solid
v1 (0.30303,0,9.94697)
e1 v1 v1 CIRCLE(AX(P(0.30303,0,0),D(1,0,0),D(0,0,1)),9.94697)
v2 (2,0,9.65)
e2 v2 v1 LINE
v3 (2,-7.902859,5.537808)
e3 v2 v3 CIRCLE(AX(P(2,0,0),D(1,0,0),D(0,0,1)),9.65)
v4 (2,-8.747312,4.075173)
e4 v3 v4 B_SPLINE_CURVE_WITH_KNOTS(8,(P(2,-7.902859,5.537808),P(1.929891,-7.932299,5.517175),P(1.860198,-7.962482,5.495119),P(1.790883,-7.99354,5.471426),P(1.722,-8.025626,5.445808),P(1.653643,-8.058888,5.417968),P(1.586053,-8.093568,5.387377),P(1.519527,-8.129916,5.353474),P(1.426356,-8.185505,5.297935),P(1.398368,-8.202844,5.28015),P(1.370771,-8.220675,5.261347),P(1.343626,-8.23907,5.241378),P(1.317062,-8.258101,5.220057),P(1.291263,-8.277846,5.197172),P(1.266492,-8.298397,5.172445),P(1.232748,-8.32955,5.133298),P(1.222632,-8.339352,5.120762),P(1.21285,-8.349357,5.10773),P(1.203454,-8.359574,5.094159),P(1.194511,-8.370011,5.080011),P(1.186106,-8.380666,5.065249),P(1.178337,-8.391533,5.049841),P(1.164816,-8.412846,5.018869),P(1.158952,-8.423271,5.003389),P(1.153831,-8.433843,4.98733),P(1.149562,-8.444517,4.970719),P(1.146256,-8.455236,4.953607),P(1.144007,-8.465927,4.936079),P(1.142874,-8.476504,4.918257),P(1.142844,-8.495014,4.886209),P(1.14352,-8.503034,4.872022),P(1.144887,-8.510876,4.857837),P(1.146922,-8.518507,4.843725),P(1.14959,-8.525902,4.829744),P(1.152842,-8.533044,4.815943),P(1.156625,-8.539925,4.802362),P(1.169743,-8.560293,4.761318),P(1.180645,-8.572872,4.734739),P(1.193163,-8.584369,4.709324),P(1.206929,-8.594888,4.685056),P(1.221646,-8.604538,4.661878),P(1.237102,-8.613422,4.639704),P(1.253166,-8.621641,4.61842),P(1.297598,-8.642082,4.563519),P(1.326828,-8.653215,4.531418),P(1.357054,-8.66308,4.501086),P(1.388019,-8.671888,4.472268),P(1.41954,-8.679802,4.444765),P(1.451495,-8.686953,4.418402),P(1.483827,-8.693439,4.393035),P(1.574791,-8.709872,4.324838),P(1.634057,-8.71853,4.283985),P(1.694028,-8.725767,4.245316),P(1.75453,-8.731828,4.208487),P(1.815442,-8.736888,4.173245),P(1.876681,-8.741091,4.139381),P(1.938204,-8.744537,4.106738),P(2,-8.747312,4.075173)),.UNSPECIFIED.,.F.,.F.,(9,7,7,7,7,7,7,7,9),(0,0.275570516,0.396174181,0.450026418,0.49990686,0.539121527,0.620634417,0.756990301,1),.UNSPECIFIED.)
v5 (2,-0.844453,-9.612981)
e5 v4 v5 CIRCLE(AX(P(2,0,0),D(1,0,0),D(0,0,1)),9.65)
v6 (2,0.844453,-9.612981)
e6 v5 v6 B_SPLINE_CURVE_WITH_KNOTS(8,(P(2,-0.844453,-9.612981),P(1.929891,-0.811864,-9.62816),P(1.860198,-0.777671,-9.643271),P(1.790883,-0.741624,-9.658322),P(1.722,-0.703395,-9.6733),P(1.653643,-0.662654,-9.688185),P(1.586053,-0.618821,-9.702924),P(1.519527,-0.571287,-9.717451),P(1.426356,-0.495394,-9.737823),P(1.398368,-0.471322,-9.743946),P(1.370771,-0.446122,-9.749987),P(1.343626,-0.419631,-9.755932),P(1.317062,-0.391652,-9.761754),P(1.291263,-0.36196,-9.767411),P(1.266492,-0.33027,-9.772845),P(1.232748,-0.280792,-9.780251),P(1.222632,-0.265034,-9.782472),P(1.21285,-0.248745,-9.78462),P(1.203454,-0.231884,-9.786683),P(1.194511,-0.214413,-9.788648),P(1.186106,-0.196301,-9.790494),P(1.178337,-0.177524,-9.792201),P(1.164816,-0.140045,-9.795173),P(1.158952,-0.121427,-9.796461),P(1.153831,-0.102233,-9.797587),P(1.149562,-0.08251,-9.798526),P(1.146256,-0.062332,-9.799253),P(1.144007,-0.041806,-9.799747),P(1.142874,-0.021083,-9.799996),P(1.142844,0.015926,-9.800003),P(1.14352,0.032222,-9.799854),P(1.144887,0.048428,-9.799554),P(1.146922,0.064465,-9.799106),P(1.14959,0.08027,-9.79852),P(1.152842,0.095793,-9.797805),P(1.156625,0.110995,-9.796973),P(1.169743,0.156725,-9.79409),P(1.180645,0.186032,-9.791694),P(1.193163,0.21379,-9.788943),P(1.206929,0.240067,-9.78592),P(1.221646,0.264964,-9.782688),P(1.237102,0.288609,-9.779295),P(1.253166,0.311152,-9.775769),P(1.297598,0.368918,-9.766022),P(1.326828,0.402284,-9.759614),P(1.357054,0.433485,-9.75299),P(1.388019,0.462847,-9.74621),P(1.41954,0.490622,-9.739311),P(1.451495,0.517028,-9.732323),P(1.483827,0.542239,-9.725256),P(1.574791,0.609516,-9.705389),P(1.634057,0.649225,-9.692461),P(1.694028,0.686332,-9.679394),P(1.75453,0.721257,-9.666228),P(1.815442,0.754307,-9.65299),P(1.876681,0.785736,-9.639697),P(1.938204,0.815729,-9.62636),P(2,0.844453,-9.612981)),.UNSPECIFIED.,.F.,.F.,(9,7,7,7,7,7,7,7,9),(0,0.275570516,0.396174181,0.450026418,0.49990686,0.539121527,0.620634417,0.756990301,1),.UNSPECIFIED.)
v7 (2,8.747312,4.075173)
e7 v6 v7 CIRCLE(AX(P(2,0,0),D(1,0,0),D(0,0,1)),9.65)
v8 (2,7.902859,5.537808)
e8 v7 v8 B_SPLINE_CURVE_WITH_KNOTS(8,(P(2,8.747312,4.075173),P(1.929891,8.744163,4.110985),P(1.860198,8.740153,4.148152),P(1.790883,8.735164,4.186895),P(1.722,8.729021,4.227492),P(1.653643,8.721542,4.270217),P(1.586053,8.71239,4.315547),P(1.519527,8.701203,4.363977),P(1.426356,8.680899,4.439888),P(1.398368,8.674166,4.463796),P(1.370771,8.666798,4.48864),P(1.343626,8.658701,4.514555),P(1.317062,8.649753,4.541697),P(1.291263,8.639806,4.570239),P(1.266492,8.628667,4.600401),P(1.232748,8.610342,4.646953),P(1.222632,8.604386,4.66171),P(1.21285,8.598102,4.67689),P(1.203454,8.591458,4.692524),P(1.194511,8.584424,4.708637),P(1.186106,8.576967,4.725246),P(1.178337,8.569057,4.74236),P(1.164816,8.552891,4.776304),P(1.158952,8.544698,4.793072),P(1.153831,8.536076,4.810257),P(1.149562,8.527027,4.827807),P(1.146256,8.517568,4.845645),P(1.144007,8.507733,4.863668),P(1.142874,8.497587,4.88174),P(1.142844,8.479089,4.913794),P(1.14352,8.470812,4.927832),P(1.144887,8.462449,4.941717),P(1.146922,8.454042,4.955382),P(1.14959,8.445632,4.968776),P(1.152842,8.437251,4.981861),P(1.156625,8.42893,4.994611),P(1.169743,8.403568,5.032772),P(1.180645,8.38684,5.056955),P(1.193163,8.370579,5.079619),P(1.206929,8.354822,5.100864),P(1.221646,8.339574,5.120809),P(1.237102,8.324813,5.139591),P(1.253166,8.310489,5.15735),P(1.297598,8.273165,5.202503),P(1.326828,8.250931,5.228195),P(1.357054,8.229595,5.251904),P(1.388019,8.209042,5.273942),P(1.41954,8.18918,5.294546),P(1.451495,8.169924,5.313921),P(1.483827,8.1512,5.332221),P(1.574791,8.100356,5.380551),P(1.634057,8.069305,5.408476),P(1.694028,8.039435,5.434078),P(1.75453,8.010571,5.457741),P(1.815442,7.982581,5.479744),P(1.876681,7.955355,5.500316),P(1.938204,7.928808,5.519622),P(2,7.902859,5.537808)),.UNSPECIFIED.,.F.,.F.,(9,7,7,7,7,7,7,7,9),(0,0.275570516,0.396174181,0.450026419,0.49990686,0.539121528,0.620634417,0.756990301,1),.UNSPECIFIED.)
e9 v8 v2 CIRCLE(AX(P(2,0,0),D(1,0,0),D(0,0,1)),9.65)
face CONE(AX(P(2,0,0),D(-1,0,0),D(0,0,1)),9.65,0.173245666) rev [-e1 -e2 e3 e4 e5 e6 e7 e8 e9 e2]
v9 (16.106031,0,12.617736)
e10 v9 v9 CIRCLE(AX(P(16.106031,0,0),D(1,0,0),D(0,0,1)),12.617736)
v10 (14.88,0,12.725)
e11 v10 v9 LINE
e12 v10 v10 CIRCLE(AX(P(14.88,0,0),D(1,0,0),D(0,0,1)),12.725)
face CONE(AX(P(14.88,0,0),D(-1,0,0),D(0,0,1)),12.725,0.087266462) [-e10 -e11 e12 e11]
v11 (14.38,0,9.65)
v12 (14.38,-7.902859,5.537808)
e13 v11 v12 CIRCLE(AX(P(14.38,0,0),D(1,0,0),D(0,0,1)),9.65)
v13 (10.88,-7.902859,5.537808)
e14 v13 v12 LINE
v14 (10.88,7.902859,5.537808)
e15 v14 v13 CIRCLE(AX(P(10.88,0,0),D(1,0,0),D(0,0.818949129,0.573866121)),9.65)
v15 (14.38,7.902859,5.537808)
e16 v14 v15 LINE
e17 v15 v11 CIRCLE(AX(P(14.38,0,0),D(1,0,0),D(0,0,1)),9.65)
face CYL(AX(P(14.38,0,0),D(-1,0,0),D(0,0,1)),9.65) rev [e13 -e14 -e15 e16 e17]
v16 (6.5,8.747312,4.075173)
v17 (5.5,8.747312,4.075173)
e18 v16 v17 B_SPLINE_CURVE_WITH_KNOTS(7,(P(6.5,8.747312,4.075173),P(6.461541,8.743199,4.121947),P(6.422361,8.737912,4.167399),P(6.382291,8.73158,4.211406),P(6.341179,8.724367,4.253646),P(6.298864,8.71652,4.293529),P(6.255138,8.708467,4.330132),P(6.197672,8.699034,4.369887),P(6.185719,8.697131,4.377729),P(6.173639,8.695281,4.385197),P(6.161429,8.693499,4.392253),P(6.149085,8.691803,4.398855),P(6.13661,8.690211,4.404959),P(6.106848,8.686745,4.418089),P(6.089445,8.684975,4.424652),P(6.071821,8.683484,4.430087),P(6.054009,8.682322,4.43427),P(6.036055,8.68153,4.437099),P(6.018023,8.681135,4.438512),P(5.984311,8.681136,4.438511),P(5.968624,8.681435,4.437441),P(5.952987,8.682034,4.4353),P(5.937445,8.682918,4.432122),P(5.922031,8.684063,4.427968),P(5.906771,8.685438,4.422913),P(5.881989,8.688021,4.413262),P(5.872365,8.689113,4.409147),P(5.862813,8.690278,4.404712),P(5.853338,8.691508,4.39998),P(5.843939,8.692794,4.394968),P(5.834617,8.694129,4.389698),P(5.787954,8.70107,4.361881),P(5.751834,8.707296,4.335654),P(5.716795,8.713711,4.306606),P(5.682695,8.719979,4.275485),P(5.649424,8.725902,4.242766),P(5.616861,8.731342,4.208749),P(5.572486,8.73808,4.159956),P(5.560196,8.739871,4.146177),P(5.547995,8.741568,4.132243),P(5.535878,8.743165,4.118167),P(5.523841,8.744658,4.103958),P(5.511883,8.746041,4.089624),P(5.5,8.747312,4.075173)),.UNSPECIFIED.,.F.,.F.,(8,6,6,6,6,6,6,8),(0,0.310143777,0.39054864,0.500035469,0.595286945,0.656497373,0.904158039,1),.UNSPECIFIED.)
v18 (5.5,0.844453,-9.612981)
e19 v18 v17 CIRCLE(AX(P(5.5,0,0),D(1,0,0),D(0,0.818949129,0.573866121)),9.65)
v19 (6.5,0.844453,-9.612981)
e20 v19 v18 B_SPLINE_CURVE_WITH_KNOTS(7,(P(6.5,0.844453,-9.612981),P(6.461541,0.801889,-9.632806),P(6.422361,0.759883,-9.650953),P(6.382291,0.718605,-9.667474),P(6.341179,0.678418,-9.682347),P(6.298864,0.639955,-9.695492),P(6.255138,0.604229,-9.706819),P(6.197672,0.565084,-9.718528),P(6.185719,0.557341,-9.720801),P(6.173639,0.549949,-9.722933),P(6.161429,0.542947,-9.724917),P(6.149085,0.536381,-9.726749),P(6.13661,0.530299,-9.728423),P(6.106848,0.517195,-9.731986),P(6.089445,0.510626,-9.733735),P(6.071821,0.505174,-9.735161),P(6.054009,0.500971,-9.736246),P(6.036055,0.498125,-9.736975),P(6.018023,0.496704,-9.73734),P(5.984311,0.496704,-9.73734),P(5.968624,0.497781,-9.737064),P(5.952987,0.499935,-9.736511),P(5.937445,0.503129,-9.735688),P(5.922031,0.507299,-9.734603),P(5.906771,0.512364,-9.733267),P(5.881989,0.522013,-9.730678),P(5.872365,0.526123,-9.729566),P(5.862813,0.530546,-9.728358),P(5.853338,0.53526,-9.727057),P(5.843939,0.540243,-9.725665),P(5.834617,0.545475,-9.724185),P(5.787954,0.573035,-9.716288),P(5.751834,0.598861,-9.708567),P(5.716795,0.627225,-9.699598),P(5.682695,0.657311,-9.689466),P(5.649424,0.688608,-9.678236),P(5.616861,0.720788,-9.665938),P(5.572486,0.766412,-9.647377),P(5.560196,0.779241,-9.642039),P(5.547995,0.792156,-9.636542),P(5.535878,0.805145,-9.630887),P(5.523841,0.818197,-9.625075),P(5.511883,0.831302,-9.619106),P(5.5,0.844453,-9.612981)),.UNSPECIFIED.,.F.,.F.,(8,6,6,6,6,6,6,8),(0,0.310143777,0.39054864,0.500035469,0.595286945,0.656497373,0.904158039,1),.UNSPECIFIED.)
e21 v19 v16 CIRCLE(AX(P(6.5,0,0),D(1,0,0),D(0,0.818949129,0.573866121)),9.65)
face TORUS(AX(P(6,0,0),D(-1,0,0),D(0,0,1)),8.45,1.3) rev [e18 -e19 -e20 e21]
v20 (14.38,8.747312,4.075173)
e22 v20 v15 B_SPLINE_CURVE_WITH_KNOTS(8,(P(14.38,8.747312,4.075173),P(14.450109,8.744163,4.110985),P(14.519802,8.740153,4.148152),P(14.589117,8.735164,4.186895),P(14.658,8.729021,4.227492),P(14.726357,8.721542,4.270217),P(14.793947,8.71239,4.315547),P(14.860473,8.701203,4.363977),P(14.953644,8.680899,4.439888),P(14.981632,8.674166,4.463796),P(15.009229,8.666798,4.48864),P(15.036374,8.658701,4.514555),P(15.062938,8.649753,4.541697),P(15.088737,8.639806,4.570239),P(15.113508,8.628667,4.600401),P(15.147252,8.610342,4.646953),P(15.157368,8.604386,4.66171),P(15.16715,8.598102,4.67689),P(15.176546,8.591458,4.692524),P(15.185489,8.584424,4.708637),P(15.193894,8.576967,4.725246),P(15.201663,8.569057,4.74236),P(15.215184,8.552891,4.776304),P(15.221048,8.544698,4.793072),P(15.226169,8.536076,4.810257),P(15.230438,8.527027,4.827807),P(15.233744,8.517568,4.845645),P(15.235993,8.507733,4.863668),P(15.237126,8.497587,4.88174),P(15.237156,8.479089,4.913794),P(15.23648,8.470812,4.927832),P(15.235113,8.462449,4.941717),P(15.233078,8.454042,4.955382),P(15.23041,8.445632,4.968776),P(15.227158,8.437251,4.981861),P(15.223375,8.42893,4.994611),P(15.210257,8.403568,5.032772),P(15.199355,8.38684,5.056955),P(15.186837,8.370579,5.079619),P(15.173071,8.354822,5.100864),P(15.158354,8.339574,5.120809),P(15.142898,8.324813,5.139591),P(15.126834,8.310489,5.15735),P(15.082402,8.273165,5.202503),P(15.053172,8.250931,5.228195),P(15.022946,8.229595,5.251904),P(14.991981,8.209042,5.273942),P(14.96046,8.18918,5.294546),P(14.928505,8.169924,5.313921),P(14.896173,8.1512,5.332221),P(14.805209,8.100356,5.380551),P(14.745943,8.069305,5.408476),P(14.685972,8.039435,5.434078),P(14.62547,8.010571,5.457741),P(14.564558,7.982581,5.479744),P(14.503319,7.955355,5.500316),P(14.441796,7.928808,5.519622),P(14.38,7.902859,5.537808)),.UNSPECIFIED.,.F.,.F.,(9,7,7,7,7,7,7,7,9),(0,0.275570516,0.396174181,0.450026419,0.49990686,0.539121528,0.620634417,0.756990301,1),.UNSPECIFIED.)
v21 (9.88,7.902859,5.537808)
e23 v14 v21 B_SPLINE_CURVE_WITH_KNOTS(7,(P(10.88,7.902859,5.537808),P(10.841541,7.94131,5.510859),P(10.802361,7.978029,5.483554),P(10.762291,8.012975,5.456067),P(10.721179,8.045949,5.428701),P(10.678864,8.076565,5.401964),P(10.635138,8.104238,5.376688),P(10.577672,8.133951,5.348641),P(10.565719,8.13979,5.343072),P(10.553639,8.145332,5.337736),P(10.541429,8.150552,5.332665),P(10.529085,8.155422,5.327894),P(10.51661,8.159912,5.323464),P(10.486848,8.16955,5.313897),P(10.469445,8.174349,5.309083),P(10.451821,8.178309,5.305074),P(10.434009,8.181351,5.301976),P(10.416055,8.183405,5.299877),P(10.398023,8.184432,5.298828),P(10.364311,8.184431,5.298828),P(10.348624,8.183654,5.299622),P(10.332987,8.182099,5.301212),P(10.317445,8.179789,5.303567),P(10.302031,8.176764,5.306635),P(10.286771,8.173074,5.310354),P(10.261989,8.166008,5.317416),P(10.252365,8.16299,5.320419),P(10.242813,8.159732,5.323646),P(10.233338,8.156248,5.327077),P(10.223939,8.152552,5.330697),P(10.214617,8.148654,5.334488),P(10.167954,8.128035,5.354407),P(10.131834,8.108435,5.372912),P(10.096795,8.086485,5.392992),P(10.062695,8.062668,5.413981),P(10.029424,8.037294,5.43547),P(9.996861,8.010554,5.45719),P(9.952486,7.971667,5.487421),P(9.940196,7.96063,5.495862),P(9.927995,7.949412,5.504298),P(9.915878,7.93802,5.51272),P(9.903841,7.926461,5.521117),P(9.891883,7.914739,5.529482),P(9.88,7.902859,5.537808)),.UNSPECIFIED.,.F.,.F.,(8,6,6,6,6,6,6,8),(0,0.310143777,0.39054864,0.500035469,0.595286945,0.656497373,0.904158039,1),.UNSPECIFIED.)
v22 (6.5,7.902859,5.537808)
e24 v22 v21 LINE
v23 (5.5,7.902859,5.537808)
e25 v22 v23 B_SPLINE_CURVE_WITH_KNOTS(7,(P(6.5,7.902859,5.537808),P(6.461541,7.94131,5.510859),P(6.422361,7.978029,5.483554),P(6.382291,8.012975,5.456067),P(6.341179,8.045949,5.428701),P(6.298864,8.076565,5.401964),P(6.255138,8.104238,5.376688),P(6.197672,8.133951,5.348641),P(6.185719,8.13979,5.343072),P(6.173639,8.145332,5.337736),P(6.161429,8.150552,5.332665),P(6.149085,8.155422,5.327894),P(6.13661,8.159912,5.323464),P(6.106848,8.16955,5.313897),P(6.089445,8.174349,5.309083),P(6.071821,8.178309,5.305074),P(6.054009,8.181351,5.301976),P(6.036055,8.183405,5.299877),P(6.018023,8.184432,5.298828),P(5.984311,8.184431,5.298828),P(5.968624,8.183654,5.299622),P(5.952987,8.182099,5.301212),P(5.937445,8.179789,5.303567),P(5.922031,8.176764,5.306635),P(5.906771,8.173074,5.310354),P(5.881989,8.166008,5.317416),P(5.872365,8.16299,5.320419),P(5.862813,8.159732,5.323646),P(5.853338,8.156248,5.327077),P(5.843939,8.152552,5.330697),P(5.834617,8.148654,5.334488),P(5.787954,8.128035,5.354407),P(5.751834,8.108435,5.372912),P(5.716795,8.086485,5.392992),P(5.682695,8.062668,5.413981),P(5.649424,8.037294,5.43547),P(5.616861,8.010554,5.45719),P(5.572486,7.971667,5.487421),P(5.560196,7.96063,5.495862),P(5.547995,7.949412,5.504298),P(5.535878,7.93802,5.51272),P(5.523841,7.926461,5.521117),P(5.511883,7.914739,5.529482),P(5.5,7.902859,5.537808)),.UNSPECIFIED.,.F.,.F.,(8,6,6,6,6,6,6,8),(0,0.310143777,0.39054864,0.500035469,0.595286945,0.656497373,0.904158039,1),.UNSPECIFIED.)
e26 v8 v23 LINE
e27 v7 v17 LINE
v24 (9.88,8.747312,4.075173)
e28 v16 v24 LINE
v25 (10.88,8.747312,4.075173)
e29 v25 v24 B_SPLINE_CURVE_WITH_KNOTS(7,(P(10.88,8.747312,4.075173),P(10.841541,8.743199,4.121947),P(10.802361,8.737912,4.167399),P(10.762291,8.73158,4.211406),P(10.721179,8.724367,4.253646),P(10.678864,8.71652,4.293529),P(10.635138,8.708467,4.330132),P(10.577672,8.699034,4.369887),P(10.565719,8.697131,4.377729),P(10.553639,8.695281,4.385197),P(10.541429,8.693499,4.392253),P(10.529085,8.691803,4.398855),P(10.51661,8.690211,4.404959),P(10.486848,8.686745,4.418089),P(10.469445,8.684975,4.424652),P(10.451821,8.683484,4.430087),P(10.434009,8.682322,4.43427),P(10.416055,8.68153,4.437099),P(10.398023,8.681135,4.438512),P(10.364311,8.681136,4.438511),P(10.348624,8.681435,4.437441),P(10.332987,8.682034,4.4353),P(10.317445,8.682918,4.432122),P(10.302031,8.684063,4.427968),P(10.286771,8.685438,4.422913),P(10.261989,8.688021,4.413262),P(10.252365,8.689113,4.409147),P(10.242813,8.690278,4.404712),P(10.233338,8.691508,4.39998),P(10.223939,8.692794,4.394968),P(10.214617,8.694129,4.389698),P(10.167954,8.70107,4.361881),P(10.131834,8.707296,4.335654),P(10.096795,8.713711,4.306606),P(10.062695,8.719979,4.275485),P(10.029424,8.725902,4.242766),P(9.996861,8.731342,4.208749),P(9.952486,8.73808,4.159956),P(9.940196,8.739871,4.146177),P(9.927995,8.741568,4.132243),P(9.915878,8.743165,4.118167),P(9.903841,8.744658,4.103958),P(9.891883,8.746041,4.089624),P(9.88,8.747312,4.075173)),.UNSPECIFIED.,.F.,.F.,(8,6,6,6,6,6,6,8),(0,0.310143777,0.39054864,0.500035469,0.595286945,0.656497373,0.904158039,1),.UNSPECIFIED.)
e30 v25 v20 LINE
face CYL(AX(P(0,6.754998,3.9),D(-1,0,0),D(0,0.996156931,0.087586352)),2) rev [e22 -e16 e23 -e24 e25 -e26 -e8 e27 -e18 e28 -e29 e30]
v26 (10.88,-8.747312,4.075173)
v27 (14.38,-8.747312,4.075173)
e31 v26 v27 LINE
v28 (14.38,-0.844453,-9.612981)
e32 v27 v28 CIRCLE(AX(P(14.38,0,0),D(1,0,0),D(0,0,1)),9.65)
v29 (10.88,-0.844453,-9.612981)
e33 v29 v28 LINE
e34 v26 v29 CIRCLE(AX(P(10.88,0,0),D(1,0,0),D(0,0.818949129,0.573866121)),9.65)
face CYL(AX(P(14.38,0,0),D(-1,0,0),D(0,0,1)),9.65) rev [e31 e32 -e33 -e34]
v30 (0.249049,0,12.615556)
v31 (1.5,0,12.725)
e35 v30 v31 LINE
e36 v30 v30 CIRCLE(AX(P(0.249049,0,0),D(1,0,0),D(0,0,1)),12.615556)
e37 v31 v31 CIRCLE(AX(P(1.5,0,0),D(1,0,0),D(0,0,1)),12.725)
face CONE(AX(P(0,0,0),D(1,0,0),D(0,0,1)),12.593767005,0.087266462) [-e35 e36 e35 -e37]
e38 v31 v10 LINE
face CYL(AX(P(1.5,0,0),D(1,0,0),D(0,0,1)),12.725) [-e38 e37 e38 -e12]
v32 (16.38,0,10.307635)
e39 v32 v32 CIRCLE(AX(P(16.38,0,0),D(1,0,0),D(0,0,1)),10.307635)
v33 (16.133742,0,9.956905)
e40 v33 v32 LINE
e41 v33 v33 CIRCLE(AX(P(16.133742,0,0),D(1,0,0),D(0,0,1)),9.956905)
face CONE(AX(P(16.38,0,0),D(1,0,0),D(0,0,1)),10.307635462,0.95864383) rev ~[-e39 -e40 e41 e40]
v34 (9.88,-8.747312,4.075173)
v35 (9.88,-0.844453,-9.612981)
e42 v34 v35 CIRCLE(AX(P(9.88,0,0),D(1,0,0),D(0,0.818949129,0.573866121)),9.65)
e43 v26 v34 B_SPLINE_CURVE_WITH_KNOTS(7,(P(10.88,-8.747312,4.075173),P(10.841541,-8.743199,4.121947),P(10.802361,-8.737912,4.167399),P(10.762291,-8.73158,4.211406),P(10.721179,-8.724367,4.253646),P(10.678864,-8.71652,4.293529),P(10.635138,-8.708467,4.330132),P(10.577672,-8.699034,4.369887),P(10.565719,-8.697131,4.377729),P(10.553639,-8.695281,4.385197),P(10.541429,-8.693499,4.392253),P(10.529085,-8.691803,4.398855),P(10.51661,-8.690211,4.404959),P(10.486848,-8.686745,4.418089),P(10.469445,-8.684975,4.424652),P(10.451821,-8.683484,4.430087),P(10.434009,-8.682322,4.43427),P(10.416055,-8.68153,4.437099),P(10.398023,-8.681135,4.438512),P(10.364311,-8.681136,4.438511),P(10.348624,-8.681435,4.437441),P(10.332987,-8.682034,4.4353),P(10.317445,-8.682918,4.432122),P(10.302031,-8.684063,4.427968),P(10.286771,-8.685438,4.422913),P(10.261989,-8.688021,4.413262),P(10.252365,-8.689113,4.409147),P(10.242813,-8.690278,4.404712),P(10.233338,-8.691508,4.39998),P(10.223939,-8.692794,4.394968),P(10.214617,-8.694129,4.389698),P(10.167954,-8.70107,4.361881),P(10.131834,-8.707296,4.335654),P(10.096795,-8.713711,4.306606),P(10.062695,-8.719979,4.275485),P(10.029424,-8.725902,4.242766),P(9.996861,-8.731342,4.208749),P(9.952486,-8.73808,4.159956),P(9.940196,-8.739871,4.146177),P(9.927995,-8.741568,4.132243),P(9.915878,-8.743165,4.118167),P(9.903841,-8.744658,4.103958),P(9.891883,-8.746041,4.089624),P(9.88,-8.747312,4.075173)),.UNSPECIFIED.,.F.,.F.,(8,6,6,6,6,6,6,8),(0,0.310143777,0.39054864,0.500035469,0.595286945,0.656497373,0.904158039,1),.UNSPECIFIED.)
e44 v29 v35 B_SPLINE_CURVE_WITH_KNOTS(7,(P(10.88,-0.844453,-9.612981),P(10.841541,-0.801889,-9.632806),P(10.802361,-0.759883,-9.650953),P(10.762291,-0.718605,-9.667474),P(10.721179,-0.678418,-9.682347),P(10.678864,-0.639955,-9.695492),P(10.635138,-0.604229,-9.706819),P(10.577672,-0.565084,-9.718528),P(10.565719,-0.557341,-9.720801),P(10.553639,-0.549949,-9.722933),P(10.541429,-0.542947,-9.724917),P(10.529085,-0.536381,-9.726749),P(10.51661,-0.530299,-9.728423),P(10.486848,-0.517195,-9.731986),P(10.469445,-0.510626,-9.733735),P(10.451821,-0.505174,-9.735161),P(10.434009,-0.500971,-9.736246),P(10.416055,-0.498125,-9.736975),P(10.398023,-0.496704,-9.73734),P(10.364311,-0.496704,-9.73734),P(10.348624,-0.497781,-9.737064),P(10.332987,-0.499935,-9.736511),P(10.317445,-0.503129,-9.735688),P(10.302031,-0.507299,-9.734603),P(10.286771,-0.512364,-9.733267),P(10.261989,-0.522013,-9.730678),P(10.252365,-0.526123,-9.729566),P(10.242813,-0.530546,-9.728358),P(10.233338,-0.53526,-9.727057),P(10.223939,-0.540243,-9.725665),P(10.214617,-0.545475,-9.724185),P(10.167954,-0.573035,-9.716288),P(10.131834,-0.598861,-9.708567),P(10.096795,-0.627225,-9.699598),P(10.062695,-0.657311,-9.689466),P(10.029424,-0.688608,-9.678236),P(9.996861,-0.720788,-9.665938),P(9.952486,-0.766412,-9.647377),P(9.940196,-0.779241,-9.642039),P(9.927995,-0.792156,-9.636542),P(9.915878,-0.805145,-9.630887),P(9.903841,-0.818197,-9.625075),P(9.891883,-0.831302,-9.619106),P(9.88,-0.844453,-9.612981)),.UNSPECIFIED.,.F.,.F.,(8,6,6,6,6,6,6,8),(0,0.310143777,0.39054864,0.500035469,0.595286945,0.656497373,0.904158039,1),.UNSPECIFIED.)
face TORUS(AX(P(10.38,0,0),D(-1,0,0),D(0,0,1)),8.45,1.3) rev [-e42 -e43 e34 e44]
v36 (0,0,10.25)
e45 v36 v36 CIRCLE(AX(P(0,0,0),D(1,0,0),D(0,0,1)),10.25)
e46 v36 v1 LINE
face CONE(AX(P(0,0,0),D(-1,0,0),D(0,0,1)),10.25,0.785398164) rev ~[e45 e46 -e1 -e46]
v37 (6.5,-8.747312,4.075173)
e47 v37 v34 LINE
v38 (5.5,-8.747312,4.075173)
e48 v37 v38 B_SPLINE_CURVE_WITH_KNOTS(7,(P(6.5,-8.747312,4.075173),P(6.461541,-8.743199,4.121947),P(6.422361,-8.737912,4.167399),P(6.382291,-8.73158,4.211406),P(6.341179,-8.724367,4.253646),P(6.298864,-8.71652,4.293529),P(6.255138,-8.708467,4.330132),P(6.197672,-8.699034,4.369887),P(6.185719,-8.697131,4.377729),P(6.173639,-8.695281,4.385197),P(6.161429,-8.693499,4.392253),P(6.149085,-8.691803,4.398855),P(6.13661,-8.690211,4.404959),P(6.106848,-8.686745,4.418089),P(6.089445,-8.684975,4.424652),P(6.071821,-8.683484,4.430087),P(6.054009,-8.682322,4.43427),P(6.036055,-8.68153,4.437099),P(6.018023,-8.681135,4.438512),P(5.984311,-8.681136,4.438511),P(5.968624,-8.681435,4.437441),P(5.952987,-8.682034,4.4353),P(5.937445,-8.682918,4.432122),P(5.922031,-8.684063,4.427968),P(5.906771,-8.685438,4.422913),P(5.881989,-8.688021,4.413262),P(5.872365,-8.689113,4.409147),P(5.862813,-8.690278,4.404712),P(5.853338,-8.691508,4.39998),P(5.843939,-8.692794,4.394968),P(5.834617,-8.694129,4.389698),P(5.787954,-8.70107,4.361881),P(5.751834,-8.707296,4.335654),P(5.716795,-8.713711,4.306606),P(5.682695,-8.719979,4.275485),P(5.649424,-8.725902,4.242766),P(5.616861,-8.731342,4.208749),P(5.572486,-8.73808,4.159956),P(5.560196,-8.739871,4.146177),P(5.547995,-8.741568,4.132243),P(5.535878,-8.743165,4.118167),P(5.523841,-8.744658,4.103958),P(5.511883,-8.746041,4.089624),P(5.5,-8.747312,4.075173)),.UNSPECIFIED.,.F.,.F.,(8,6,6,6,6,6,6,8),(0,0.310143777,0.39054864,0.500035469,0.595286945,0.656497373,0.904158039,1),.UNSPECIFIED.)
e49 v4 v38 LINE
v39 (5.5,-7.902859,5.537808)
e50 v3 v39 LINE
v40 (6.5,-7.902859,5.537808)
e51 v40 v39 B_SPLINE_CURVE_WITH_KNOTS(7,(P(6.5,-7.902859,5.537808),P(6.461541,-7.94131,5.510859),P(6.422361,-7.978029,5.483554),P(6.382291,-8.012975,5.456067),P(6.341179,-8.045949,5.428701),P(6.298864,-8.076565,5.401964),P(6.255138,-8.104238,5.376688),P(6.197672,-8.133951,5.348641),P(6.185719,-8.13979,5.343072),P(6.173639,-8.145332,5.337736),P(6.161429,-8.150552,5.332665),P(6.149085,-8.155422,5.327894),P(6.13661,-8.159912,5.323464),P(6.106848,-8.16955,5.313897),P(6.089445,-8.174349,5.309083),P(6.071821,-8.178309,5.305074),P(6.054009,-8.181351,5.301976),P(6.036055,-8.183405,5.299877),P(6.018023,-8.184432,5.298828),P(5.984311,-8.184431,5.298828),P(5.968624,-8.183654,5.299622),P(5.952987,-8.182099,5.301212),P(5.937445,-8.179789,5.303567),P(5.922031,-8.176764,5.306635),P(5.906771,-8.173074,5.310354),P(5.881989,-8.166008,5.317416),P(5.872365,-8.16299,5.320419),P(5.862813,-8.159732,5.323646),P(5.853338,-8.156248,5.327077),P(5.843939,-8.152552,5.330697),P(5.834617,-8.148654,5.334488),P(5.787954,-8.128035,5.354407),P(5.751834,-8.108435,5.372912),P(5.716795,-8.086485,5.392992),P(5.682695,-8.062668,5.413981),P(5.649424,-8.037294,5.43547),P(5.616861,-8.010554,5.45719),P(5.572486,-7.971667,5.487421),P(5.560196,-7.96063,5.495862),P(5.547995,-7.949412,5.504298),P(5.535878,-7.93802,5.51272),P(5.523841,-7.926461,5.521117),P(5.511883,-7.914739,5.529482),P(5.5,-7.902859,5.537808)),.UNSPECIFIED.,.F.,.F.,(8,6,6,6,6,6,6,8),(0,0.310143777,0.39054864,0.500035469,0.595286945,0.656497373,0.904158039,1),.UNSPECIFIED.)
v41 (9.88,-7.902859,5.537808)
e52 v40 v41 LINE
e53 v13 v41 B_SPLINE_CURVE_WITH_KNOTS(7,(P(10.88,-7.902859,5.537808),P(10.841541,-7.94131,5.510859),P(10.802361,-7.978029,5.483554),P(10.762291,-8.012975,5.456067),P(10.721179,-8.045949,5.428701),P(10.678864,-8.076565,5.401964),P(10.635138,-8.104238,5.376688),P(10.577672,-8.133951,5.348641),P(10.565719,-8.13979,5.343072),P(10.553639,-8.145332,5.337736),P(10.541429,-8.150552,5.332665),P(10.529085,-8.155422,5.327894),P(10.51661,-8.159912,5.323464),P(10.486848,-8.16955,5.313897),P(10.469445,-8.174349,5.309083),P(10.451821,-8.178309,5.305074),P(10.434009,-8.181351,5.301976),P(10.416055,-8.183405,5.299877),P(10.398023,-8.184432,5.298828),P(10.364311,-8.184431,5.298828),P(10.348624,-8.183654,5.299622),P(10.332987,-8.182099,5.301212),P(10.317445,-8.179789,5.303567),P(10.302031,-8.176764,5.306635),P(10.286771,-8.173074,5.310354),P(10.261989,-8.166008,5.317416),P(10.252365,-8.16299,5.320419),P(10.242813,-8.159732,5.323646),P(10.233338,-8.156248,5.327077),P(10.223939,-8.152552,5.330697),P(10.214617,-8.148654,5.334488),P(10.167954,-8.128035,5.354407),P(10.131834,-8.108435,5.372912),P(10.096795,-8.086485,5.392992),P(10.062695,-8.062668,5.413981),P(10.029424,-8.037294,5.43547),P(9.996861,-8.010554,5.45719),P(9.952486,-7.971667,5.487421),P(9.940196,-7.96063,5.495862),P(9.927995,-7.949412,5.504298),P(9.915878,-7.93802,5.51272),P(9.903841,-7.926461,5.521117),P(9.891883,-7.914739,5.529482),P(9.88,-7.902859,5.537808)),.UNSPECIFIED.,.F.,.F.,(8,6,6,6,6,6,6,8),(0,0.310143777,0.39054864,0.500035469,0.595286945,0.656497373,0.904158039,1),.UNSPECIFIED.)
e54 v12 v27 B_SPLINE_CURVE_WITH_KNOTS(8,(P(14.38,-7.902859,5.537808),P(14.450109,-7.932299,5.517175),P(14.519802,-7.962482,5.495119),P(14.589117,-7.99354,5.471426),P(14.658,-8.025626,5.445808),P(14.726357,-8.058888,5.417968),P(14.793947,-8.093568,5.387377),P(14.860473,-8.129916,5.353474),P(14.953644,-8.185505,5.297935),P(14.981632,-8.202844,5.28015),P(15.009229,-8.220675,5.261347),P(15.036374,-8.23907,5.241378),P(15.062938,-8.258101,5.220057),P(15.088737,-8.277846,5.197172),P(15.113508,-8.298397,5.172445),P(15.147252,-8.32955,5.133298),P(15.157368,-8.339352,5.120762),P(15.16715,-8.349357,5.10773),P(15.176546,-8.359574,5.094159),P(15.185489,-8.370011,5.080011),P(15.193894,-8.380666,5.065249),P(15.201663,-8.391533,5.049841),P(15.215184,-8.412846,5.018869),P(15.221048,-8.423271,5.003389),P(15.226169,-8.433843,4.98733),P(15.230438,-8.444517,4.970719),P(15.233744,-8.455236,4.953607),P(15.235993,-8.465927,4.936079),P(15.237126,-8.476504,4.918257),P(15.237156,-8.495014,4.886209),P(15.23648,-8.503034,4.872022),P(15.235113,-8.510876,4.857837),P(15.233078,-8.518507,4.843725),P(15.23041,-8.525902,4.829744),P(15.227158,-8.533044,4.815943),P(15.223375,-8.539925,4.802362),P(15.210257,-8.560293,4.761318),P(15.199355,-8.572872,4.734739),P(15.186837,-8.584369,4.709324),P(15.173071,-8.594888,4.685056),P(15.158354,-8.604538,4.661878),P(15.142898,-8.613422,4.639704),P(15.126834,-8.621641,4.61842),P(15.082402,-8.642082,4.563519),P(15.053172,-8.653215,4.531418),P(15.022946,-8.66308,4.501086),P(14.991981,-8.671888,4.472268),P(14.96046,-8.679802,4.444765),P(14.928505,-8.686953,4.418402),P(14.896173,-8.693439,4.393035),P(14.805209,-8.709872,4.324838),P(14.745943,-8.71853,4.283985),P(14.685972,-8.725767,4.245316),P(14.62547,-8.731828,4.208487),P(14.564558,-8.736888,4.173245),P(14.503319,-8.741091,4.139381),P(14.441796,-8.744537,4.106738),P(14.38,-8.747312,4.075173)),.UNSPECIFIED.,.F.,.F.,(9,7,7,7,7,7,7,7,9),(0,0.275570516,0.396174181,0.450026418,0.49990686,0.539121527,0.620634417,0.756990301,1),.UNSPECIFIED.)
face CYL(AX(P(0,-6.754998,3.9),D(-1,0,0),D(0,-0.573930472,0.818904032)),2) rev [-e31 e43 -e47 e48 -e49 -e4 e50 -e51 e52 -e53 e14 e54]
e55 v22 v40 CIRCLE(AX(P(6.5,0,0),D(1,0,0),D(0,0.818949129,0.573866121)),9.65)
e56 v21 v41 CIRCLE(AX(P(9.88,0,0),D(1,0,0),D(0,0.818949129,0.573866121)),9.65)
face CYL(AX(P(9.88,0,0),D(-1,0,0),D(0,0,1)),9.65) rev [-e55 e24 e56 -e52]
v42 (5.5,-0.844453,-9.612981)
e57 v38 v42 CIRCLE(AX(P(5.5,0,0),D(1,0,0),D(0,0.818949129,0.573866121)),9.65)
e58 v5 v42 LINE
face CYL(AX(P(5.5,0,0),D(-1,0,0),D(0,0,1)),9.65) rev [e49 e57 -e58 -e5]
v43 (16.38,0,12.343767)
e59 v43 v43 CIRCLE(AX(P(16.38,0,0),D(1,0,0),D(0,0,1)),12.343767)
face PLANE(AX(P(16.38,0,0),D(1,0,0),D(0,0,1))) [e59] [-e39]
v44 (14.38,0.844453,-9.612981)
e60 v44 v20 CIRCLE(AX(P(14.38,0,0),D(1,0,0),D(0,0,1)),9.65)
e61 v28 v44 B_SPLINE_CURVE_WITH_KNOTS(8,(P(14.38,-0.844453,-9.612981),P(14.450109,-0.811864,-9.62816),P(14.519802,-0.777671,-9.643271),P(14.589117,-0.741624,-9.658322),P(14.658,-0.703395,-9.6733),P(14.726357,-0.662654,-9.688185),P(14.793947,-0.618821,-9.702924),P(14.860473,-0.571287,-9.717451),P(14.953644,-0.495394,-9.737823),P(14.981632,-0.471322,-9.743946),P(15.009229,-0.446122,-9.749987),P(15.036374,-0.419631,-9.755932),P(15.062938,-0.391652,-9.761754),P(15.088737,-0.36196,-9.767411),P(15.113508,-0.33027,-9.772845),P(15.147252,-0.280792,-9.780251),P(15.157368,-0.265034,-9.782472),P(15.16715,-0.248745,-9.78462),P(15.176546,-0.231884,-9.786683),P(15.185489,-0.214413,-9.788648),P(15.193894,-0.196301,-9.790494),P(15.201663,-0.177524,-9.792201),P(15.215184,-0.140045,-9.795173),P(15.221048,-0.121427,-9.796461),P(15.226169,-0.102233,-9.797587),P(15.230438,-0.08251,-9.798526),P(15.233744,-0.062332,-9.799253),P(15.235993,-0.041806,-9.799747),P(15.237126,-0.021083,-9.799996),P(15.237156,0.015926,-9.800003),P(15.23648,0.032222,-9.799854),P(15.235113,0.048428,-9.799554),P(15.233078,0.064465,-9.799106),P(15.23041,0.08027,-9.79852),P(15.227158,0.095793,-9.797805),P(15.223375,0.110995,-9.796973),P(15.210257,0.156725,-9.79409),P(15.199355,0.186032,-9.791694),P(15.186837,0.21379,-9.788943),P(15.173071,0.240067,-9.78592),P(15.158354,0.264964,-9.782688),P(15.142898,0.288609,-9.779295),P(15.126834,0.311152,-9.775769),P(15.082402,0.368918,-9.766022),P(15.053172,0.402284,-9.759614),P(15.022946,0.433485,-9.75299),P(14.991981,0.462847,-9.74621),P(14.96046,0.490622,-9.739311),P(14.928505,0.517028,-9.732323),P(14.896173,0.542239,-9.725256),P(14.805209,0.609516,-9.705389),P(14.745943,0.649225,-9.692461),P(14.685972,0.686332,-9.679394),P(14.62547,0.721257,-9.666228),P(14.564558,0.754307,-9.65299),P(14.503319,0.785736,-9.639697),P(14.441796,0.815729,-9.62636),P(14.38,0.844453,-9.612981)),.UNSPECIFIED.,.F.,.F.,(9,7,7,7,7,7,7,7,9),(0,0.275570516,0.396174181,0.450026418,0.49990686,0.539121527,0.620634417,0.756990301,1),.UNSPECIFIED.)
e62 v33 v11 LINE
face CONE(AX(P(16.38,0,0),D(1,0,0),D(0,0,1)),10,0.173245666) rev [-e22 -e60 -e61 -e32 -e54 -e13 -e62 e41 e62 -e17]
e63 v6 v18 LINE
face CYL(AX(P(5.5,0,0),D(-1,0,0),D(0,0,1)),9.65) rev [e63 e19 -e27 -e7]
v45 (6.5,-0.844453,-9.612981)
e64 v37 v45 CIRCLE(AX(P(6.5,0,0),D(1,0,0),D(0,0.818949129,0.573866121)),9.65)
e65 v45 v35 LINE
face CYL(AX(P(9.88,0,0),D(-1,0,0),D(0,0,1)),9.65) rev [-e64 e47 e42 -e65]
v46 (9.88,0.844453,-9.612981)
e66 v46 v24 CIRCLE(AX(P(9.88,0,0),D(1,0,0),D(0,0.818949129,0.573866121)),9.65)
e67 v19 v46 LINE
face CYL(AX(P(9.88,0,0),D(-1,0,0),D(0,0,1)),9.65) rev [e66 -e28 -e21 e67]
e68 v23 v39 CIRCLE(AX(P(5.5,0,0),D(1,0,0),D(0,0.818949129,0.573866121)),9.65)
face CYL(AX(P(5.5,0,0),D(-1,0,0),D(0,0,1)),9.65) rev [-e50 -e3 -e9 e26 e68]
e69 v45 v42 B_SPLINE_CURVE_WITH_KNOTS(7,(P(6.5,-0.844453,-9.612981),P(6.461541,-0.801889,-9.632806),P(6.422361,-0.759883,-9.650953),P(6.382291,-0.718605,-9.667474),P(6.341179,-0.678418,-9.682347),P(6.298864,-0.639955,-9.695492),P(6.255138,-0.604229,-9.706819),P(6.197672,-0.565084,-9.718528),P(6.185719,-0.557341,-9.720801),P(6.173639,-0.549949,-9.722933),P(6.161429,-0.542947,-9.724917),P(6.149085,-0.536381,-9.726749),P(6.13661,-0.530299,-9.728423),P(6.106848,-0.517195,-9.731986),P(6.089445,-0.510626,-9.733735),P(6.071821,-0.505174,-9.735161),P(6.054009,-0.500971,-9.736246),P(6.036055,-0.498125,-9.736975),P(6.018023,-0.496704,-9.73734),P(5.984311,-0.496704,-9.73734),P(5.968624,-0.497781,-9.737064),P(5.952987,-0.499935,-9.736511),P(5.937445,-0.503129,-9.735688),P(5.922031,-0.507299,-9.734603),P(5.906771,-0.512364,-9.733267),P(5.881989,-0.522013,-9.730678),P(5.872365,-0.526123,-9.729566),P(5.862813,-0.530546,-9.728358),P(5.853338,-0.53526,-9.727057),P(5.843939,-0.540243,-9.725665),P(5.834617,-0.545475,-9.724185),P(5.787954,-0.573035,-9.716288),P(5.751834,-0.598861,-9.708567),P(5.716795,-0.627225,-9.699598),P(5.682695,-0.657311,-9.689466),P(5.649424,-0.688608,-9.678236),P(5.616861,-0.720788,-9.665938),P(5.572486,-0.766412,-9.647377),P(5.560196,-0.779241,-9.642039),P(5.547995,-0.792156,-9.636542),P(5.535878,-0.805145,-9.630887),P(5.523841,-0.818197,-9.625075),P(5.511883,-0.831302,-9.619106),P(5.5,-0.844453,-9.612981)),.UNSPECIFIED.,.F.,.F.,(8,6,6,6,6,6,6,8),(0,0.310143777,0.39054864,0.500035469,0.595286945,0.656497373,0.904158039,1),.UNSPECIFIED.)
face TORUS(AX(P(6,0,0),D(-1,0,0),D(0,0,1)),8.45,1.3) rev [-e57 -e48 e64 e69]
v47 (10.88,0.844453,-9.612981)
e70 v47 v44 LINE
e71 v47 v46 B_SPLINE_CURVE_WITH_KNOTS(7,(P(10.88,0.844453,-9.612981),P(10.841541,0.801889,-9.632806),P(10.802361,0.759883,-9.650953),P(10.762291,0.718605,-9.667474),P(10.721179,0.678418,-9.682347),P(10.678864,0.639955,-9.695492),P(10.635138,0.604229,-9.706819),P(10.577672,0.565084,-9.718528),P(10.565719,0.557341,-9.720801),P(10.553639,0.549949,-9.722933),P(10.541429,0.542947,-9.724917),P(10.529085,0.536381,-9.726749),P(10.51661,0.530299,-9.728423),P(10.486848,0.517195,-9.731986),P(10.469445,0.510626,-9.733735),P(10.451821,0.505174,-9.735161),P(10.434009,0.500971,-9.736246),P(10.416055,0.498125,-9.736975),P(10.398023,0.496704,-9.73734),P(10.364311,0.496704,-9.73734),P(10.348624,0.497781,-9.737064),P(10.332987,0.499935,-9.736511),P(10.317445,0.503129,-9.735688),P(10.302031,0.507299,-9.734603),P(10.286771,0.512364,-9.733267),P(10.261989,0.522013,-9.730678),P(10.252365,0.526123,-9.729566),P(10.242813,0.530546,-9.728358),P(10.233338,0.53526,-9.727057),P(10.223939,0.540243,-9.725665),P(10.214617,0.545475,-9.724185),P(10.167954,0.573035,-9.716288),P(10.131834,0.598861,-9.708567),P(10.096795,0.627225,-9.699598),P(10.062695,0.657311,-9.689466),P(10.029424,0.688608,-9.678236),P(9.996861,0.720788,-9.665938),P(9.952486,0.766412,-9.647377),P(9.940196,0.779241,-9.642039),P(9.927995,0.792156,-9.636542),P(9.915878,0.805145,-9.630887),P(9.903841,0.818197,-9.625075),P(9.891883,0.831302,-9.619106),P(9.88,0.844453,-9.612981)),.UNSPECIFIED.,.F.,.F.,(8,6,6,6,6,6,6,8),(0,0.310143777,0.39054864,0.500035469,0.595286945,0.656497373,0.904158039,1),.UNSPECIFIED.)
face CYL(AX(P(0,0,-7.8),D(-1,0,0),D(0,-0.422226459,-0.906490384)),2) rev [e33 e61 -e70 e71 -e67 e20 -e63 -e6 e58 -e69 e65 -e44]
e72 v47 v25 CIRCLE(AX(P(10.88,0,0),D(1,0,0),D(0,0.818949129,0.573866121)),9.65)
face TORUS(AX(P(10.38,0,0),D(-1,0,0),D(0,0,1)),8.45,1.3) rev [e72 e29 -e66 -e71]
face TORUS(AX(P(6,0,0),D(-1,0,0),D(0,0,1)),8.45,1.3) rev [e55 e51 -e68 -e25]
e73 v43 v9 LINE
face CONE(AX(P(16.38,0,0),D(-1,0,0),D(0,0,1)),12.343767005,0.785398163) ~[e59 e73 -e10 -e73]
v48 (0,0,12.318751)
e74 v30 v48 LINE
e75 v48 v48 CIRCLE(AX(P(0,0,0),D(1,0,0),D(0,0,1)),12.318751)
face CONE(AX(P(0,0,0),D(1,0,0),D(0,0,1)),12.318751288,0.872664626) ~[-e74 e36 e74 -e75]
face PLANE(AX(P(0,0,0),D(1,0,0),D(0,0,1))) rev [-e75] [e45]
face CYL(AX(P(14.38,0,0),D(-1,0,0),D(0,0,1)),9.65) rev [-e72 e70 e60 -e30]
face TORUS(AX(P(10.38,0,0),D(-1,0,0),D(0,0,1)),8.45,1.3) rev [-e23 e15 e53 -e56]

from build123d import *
from OCP.BRepFilletAPI import BRepFilletAPI_MakeChamfer

# Parameters (mm, degrees)
ID_CHAMFER_SIZE   = 0.25
ID_CHAMFER_SIZE2  = 0.307635462
OD_CHAMFER_SIZE   = 0.25
OD_CHAMFER_SIZE2  = 0.275015717
BORE_SLOT_DEPTH   = 25.334248499
CIRPATTERN1_COUNT = 3


with BuildPart() as part:
    # Sketch1 → Revolve1 (revolve)
    with BuildSketch(Plane.XY, mode=Mode.PRIVATE) as revolve1_sk:
        with BuildLine():
            Line((0, 10), (0, 12.593767005))
            Line((0, 12.593767005), (1.5, 12.725))
            Line((1.5, 12.725), (14.88, 12.725))
            Line((14.88, 12.725), (16.38, 12.593767005))
            Line((16.38, 12.593767005), (16.38, 10))
            Line((16.38, 10), (14.38, 9.65))
            Line((14.38, 9.65), (10.88, 9.65))
            ThreePointArc((10.88, 9.65), (10.38, 9.75), (9.88, 9.65))
            Line((9.88, 9.65), (6.5, 9.65))
            ThreePointArc((6.5, 9.65), (6, 9.75), (5.5, 9.65))
            Line((5.5, 9.65), (2, 9.65))
            Line((2, 9.65), (0, 10))
        make_face()
    revolve(revolve1_sk.sketch.rotate(Axis((-2.430533636, 0, 0), (1, 0, 0)), 90), axis=Axis((-2.430533636, 0, 0), (1, 0, 0)))

    # ID Chamfer: one chamfer whose edges measure the first distance from different faces: ONE call of the kernel's chamfer builder (chamfer() names one face for all edges)
    id_chamfer_edges_1 = [part.edges().sort_by_distance(p)[0] for p in [
        (16.38, 0, -10),
    ]]
    id_chamfer_side_1 = [part.faces().sort_by_distance(p)[0] for p in [
        (15.38, 0, -9.825),
    ]]
    id_chamfer_edges_2 = [part.edges().sort_by_distance(p)[0] for p in [
        (0, 0, -10),
    ]]
    id_chamfer_side_2 = [part.faces().sort_by_distance(p)[0] for p in [
        (0, 0, -10.356205522),
    ]]
    id_chamfer = BRepFilletAPI_MakeChamfer(part.part.solid().wrapped)
    for e in id_chamfer_edges_1:
        id_chamfer.Add(ID_CHAMFER_SIZE, ID_CHAMFER_SIZE2, e.wrapped, id_chamfer_side_1[0].wrapped)  # the first distance lies on this face
    for e in id_chamfer_edges_2:
        id_chamfer.Add(ID_CHAMFER_SIZE, ID_CHAMFER_SIZE2, e.wrapped, id_chamfer_side_2[0].wrapped)  # the first distance lies on this face
    add(Compound.cast(id_chamfer.Shape()), mode=Mode.REPLACE)

    # OD Chamfer: one chamfer whose edges measure the first distance from different faces: ONE call of the kernel's chamfer builder (chamfer() names one face for all edges)
    od_chamfer_edges_1 = [part.edges().sort_by_distance(p)[0] for p in [
        (16.38, 0, -12.593767005),
    ]]
    od_chamfer_side_1 = [part.faces().sort_by_distance(p)[0] for p in [
        (16.38, 0, -10.663840984),
    ]]
    od_chamfer_edges_2 = [part.edges().sort_by_distance(p)[0] for p in [
        (0, 0, -12.593767005),
    ]]
    od_chamfer_side_2 = [part.faces().sort_by_distance(p)[0] for p in [
        (0.75, 0, -12.659383502),
    ]]
    od_chamfer = BRepFilletAPI_MakeChamfer(part.part.solid().wrapped)
    for e in od_chamfer_edges_1:
        od_chamfer.Add(OD_CHAMFER_SIZE, OD_CHAMFER_SIZE2, e.wrapped, od_chamfer_side_1[0].wrapped)  # the first distance lies on this face
    for e in od_chamfer_edges_2:
        od_chamfer.Add(OD_CHAMFER_SIZE, OD_CHAMFER_SIZE2, e.wrapped, od_chamfer_side_2[0].wrapped)  # the first distance lies on this face
    add(Compound.cast(od_chamfer.Shape()), mode=Mode.REPLACE)

    # Sketch2 → Bore Slot (cut, through all)
    with BuildSketch(Plane(origin=(0, 0, 0), x_dir=(0, 0, -1), z_dir=(1, 0, 0))):
        with BuildLine():
            ThreePointArc((-4.075172705, 8.747312011), (-4.9, 8.487048957), (-5.537808064, 7.902859093))
            ThreePointArc((-5.537808064, 7.902859093), (-4.825, 8.357145147), (-4.075172705, 8.747312011))
        make_face()
    bore_slot = extrude(amount=BORE_SLOT_DEPTH, mode=Mode.SUBTRACT)

    # CirPattern1: Bore Slot ×3 about axis
    cirpattern1_axis = Axis((0, 0, 0), (1, 0, 0))
    for i in range(1, CIRPATTERN1_COUNT):
        add(bore_slot.rotate(cirpattern1_axis, i * 360 / CIRPATTERN1_COUNT), mode=Mode.SUBTRACT)


solid = part.part
